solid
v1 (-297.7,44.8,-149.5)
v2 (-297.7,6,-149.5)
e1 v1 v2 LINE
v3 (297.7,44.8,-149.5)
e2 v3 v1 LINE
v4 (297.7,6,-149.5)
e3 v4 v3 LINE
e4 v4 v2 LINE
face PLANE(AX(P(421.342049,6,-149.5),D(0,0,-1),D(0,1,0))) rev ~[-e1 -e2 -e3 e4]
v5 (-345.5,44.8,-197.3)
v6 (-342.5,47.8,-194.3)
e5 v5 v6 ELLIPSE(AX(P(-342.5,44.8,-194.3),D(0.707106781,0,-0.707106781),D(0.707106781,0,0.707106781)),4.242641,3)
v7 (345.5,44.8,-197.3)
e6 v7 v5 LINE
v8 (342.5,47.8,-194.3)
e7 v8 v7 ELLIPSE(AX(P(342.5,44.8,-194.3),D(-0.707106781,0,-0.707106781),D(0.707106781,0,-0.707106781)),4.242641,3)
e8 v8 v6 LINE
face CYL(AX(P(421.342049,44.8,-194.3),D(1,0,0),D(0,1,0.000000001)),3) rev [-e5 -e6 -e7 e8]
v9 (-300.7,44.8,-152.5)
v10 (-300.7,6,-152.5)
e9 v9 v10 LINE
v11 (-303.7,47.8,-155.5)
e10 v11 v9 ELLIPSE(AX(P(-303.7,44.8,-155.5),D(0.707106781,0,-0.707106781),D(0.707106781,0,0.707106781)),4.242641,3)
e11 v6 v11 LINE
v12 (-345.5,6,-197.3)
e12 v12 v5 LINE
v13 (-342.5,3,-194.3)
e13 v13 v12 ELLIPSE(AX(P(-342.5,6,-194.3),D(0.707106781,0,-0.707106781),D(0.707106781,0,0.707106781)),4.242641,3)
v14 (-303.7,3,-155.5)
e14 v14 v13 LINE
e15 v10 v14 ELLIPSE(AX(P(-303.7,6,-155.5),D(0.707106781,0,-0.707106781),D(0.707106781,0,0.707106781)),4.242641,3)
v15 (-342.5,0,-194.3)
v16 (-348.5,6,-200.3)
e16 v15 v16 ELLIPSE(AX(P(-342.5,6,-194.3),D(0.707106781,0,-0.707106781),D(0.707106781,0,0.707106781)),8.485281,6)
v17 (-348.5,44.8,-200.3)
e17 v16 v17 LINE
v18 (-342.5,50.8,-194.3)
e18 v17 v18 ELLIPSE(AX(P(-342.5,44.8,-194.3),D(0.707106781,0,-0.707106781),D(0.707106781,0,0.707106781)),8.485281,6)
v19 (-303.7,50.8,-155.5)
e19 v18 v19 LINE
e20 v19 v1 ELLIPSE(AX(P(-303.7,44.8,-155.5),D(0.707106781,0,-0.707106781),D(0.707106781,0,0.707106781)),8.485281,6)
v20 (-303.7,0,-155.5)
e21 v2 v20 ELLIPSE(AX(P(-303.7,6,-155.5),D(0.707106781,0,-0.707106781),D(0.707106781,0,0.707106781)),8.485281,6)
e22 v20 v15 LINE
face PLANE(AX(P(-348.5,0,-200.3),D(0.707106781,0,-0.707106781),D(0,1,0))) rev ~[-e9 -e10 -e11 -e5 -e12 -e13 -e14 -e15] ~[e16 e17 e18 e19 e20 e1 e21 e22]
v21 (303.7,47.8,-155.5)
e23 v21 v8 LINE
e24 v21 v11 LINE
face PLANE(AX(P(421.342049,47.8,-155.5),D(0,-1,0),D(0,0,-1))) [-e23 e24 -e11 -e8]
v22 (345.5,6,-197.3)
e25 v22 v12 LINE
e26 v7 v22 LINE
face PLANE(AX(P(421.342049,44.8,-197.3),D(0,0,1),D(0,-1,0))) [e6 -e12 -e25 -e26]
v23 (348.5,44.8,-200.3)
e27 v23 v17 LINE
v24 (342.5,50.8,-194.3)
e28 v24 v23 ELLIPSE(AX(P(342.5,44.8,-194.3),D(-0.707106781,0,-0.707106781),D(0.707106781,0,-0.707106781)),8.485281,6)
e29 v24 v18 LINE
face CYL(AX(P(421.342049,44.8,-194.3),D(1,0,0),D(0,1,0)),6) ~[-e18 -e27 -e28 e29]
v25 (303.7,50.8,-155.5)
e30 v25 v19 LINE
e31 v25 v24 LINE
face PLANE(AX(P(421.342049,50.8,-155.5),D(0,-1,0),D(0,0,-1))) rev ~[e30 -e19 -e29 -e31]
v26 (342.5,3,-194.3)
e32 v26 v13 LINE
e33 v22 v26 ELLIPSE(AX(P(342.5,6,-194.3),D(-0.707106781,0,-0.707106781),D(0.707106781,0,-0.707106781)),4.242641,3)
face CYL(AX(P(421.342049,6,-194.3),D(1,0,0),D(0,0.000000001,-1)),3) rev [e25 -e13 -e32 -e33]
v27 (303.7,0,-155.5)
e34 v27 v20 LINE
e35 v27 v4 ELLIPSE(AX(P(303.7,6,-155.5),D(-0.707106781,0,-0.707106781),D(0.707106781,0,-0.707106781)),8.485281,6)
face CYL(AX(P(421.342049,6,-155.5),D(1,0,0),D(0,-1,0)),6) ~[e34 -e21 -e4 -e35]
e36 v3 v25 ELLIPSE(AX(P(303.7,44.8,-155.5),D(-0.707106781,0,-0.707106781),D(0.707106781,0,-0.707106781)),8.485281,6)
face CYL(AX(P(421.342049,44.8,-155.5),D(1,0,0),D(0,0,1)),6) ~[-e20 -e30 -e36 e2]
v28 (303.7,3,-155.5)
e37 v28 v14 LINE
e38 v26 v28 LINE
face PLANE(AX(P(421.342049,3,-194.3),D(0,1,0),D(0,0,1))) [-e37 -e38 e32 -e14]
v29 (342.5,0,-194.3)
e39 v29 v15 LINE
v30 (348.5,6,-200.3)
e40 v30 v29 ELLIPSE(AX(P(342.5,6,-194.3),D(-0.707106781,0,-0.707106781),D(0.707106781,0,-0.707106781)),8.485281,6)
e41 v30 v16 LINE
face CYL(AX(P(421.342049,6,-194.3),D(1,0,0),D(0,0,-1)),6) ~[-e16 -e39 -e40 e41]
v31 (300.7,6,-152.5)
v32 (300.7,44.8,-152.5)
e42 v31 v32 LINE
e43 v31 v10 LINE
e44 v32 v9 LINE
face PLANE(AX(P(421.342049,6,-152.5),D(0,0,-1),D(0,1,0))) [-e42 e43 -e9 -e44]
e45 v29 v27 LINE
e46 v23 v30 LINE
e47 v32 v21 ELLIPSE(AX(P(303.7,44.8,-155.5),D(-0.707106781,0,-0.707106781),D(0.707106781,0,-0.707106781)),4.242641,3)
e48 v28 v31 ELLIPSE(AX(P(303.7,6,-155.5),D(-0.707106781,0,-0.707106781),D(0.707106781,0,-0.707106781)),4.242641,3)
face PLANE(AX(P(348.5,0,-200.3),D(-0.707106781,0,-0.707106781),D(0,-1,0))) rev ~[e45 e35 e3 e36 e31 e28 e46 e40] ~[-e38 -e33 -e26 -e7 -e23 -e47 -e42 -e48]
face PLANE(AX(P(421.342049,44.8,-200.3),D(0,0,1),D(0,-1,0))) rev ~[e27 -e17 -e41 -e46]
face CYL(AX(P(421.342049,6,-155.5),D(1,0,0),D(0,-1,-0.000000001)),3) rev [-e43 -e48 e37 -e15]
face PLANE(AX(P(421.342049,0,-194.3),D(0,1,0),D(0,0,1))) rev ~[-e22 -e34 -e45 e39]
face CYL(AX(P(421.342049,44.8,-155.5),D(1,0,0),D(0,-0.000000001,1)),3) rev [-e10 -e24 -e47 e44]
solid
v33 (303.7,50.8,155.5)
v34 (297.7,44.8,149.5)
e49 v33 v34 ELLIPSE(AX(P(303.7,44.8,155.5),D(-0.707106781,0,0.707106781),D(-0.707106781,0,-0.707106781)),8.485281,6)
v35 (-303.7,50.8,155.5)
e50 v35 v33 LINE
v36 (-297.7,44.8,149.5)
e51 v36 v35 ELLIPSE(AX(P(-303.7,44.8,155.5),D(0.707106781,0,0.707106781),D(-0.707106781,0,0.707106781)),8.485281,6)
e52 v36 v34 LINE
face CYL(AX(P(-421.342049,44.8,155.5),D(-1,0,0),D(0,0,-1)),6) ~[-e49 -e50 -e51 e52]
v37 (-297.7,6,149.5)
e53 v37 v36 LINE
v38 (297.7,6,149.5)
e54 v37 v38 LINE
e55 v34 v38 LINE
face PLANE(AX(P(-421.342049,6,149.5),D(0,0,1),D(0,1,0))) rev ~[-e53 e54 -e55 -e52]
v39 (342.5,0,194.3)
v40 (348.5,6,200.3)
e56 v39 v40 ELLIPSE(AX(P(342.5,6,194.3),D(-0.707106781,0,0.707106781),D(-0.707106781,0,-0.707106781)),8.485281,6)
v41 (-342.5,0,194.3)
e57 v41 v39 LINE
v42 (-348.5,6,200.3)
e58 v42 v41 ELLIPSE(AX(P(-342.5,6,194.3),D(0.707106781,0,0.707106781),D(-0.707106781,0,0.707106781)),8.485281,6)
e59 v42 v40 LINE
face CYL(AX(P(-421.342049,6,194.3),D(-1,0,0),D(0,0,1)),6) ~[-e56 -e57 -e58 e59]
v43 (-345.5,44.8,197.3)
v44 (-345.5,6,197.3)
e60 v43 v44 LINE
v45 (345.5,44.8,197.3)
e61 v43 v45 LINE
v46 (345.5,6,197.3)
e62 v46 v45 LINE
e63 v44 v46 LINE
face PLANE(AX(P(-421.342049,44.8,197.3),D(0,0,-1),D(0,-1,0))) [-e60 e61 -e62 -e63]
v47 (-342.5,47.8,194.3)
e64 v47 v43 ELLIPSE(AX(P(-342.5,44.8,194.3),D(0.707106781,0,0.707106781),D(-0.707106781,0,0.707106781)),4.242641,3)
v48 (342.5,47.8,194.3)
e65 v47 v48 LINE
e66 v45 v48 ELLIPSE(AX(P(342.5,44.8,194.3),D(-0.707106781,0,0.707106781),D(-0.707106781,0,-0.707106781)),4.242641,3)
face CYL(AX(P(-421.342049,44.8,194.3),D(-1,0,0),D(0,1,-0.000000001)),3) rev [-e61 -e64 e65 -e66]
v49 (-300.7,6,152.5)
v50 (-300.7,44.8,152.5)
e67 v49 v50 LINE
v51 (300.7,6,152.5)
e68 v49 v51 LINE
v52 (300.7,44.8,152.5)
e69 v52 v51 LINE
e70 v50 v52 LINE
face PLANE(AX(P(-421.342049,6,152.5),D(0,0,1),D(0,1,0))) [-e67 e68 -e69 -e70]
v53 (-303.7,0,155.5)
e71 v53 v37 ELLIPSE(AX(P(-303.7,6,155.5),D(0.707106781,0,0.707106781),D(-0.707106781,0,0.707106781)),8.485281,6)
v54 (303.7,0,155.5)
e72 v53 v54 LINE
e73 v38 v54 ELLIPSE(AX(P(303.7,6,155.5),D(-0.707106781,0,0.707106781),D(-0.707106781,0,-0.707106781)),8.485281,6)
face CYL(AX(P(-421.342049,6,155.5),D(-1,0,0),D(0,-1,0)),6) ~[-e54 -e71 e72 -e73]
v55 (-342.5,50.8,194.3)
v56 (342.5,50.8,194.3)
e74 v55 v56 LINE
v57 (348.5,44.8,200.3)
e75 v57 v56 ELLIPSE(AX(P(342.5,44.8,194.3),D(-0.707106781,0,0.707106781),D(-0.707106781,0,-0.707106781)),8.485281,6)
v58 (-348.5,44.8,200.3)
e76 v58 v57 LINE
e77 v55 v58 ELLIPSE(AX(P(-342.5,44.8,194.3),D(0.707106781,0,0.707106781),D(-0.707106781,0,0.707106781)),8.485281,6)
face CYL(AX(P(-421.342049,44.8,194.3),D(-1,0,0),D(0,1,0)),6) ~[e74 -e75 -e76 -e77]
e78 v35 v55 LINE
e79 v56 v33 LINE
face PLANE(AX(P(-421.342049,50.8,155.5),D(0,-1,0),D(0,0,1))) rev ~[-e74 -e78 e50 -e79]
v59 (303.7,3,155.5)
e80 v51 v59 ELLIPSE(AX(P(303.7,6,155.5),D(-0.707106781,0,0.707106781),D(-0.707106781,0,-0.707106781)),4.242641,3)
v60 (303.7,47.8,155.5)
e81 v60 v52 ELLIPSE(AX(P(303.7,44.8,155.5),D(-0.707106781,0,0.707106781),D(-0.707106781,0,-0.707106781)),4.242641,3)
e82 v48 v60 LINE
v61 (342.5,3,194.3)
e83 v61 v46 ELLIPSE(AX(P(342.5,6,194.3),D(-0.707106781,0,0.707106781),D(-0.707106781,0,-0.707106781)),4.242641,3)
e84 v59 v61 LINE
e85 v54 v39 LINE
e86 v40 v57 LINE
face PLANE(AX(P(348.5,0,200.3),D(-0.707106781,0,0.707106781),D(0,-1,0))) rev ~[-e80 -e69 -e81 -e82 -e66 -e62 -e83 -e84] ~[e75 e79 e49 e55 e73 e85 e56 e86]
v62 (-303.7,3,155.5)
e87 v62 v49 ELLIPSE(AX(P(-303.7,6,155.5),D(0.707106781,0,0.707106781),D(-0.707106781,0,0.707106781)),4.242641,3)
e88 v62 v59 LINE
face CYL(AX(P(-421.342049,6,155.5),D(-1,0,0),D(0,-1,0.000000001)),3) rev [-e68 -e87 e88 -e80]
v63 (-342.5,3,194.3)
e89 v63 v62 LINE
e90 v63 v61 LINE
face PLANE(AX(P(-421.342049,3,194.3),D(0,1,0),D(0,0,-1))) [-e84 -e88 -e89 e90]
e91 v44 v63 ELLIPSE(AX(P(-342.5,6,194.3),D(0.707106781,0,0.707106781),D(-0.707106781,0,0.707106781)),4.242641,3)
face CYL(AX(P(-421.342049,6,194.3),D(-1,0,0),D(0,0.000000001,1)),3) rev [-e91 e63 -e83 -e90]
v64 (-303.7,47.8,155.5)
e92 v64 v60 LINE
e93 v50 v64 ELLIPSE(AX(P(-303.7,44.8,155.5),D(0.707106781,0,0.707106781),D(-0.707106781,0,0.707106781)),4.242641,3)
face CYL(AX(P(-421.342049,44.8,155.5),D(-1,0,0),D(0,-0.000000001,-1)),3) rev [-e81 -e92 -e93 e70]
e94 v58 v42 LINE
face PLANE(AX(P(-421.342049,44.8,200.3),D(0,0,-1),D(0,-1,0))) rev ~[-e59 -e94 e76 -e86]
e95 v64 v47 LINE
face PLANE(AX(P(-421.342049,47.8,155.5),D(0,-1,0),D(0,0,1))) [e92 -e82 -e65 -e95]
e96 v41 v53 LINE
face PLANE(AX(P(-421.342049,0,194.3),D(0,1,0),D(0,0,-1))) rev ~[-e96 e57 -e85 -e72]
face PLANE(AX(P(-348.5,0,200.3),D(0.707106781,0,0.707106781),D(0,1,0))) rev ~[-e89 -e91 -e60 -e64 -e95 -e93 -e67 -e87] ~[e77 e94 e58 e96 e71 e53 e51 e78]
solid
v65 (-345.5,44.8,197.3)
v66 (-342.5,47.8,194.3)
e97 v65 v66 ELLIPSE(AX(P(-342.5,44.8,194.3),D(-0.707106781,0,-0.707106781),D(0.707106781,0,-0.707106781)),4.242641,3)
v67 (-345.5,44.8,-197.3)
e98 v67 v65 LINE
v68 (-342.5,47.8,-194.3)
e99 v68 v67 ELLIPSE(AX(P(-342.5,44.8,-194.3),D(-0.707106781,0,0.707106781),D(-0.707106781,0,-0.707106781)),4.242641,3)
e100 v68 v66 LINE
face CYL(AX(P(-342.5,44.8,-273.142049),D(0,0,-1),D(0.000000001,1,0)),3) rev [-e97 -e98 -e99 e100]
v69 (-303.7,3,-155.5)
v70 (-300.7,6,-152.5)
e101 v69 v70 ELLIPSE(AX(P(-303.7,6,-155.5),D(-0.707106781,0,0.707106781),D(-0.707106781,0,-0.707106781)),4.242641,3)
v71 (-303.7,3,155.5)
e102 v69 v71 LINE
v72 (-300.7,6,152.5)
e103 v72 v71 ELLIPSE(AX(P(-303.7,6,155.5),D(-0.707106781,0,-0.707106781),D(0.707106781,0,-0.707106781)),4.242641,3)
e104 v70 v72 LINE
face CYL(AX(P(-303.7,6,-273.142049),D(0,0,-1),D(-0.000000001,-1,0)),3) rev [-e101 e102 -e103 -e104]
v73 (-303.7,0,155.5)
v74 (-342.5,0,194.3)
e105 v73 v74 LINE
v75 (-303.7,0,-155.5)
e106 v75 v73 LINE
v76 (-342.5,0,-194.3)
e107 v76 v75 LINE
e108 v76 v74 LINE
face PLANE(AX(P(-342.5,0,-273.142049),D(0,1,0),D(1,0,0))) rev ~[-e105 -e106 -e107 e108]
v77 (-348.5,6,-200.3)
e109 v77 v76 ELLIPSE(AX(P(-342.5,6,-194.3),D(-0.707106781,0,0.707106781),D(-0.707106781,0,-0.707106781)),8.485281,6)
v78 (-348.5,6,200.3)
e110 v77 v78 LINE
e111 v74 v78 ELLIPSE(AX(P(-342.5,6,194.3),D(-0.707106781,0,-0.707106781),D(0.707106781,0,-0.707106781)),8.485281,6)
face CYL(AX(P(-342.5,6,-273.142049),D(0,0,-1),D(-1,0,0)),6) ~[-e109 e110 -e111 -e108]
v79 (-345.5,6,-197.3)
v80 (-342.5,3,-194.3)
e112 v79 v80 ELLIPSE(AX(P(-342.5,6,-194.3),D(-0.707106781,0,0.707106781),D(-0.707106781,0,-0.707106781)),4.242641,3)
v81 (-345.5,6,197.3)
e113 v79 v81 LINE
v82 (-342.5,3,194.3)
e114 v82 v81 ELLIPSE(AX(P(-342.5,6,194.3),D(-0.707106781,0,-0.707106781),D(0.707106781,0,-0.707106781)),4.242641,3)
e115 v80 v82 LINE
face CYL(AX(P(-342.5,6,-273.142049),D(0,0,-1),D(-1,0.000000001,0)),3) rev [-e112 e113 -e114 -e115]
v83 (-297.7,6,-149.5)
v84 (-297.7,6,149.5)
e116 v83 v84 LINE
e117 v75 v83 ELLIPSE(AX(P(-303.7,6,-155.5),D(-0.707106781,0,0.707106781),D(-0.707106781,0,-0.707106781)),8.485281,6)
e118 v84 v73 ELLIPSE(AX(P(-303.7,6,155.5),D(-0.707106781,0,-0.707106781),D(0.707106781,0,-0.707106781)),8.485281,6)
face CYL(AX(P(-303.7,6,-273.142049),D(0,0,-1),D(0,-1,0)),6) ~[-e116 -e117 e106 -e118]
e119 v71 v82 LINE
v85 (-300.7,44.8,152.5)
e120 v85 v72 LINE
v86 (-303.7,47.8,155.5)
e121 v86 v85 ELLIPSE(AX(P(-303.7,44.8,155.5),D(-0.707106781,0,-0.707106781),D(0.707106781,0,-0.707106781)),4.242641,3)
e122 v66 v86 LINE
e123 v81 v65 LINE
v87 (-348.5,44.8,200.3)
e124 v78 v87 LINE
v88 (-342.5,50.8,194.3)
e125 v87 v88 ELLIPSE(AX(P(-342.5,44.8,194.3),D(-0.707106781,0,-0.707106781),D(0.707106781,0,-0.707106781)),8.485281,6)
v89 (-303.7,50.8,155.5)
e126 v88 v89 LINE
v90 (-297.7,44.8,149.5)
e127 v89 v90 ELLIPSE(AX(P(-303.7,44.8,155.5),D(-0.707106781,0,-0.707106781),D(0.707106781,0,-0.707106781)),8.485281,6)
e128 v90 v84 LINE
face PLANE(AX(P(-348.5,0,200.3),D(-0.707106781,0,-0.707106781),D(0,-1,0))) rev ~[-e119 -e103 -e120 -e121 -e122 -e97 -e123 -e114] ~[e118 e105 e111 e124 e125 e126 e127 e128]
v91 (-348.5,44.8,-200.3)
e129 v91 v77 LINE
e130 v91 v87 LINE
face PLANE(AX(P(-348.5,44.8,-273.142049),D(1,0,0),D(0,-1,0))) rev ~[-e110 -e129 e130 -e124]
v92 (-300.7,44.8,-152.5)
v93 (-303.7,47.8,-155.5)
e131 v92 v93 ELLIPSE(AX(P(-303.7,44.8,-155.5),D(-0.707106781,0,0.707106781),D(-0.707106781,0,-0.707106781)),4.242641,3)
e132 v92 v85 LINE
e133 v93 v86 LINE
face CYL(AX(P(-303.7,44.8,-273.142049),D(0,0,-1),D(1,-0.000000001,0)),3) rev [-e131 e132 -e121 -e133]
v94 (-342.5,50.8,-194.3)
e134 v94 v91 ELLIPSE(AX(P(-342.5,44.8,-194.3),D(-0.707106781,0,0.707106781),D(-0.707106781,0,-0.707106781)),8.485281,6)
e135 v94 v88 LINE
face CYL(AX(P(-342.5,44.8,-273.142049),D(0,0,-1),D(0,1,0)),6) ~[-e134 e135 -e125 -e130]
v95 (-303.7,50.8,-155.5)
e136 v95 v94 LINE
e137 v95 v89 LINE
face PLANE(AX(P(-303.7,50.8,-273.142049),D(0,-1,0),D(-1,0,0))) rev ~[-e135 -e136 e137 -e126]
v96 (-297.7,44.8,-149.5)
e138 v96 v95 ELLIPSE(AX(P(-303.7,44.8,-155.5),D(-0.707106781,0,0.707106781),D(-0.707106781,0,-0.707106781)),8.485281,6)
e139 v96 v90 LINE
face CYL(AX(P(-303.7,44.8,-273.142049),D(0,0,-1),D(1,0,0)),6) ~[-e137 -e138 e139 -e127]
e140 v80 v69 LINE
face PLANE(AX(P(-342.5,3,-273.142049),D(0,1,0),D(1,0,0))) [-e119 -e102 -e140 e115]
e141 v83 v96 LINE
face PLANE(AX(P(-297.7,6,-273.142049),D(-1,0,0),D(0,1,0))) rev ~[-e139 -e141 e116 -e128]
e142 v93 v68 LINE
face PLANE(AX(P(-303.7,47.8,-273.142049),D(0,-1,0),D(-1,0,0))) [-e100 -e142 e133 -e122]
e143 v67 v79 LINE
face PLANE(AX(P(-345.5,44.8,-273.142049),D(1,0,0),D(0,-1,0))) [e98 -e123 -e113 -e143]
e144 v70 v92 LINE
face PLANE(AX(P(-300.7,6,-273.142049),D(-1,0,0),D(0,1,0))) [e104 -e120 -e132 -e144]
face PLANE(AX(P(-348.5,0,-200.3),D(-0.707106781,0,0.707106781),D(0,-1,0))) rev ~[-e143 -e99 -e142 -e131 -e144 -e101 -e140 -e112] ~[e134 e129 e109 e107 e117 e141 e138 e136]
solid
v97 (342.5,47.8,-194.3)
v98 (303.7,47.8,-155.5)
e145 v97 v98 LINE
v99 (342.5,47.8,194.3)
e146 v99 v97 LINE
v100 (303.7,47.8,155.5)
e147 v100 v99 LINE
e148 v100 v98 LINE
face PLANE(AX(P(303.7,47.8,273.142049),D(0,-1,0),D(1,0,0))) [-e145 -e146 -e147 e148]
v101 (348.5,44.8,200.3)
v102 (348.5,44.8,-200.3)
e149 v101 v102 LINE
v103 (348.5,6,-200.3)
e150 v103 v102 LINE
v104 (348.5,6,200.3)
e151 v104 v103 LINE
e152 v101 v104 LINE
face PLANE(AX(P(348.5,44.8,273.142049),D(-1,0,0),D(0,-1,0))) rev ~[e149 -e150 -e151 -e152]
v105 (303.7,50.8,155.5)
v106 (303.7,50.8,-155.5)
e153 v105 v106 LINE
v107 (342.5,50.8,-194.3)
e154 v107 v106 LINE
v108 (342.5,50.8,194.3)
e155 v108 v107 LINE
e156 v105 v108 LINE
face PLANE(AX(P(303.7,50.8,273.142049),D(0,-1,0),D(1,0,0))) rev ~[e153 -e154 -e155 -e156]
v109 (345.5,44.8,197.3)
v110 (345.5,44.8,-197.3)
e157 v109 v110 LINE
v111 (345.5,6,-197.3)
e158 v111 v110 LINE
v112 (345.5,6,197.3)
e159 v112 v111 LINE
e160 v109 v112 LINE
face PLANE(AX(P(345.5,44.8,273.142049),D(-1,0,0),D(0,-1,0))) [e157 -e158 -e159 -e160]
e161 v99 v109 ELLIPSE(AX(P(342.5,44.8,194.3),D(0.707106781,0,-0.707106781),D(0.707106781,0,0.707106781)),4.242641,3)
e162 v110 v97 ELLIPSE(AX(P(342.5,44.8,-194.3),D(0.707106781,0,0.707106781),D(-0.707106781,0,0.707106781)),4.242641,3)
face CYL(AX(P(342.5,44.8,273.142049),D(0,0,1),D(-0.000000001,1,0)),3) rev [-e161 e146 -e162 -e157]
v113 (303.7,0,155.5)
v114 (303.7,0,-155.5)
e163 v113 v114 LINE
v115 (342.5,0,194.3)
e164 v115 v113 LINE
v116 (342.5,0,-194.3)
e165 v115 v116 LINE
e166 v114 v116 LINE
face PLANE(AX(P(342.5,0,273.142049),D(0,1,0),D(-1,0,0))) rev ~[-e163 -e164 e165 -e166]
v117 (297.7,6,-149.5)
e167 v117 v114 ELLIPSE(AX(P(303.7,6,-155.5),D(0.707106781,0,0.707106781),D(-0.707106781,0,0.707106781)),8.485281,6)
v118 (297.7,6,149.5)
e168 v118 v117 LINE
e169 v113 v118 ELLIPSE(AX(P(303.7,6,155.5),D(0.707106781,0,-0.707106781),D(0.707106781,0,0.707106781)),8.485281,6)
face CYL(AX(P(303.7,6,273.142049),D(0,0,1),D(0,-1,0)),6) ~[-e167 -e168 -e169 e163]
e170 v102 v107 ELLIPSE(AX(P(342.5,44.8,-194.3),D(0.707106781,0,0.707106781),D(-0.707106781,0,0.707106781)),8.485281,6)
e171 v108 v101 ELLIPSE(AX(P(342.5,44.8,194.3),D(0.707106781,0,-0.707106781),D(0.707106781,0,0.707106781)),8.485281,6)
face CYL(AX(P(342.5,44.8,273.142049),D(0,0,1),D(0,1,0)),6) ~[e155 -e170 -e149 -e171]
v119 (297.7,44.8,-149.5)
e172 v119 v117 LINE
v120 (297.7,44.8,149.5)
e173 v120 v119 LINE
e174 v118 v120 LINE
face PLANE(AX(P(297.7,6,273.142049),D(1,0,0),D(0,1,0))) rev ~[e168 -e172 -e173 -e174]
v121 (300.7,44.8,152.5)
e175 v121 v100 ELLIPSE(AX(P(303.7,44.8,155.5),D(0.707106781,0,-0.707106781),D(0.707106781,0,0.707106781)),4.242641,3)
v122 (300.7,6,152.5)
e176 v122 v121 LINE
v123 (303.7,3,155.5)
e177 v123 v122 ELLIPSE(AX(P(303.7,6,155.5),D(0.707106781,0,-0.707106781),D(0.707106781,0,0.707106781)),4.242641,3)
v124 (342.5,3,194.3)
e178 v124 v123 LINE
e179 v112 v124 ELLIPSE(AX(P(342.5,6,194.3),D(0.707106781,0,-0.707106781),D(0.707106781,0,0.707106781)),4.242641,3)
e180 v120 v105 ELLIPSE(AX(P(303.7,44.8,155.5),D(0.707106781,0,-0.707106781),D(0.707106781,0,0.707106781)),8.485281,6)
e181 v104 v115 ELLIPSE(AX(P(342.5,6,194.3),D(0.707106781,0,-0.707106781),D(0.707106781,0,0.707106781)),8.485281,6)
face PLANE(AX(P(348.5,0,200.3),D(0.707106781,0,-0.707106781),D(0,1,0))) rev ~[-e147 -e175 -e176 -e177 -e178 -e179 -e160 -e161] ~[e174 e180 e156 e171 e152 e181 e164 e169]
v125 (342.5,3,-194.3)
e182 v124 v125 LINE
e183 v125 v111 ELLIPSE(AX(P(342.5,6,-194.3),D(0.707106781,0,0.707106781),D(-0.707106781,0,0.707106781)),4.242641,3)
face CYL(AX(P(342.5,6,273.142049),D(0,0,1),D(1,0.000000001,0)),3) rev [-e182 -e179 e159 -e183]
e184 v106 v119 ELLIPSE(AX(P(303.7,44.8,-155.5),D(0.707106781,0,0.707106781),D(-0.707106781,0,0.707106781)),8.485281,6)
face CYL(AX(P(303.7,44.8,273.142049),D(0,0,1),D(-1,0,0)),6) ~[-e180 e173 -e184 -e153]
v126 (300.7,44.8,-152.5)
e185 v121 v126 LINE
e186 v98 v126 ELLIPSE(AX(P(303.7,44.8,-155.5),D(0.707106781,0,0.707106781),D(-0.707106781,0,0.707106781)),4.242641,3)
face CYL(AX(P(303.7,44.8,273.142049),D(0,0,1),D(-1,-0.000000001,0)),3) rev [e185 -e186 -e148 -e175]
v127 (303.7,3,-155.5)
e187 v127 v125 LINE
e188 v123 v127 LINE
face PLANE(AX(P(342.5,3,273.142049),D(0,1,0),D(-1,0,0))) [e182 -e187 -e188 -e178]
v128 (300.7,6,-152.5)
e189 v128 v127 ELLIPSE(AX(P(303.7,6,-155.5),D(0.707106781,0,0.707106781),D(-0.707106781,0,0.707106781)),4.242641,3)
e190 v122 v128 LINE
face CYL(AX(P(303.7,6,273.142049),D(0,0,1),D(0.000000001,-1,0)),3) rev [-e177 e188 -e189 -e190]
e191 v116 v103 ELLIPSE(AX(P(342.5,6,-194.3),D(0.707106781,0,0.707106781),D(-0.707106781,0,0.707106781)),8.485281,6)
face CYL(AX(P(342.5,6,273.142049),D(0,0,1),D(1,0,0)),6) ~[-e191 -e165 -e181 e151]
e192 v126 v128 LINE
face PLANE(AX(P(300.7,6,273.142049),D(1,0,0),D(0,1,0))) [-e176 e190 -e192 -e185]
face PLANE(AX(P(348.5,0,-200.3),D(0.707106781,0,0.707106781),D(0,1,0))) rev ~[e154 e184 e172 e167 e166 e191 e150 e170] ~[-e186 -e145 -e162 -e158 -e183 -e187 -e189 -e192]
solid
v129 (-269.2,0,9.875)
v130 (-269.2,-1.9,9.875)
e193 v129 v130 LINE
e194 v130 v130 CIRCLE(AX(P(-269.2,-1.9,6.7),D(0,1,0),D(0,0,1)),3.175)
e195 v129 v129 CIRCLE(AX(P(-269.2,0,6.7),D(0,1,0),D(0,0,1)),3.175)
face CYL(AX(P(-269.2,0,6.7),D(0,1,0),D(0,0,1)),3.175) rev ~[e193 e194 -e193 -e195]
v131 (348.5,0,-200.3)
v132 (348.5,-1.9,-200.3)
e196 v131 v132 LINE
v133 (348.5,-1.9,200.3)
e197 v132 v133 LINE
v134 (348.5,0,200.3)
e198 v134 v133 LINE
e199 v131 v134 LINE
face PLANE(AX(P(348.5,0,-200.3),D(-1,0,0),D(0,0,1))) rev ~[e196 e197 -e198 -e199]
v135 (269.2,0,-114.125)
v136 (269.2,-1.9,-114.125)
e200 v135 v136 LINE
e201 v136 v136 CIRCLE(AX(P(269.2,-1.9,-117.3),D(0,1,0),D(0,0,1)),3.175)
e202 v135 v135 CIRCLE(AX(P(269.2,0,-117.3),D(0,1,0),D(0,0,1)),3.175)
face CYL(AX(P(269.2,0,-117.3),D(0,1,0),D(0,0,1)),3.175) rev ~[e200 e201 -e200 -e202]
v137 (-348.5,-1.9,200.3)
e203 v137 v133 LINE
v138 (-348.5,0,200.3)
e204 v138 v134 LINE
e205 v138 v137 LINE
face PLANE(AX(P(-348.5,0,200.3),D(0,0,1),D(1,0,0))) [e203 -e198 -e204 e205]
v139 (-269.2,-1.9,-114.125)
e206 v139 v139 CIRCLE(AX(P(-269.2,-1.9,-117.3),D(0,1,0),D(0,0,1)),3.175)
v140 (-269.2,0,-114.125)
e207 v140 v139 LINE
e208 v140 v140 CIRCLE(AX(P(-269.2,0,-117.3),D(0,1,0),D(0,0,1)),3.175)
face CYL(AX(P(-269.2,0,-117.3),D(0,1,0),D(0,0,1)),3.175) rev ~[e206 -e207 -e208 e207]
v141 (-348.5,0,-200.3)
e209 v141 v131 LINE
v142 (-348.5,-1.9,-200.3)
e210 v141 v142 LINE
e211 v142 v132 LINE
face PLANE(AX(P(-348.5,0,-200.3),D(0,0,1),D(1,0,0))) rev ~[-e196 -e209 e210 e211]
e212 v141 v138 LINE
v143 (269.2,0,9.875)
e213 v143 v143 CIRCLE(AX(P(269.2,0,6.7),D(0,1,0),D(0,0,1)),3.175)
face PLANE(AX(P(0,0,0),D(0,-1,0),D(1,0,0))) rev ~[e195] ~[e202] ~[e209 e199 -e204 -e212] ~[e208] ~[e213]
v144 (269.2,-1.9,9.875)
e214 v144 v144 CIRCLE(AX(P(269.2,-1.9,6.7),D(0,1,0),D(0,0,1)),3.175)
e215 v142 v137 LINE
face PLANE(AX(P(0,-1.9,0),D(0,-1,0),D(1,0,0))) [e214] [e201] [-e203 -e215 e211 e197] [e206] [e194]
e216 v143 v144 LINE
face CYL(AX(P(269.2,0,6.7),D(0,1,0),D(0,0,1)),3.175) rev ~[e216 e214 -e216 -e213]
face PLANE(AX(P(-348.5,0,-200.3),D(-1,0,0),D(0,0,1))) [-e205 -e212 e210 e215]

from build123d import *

# Parameters (mm, degrees)
TUBO_CUADRADO_2_X_2_X_0_25_1_DEPTH      = 473.442048969
TUBO_CUADRADO_2_X_2_X_0_25_1_DEPTH_BACK = 72.842048969
TUBO_CUADRADO_2_X_2_X_0_25_1_2_DEPTH    = 842.684097937
TUBO_CUADRADO_2_X_2_X_0_25_1_3_DEPTH    = 546.284097937
TUBO_CUADRADO_2_X_2_X_0_25_1_4_DEPTH    = 842.684097937
CROQUIS3_W                              = 697
CROQUIS3_H                              = 400.6
SALIENTE_EXTRUIR1_DEPTH                 = 1.9
CROQUIS4_R                              = 3.175
CORTAR_EXTRUIR1_DEPTH                   = 10


with BuildPart() as part:
    # Sketch1 → Tubo cuadrado 2 X 2 X 0.25(1) (new, two sides: drawn at the far end of the back side and taken through both)
    with BuildSketch(Plane(origin=(-323.1, 25.4, -200.3), x_dir=(1, 0, 0), z_dir=(0, 0, 1)).offset(-TUBO_CUADRADO_2_X_2_X_0_25_1_DEPTH_BACK)):
        with BuildLine():
            Line((-19.4, -25.4), (19.4, -25.4))
            ThreePointArc((19.4, -25.4), (23.642640687, -23.642640687), (25.4, -19.4))
            Line((25.4, -19.4), (25.4, 19.4))
            ThreePointArc((25.4, 19.4), (23.642640687, 23.642640687), (19.4, 25.4))
            Line((19.4, 25.4), (-19.4, 25.4))
            ThreePointArc((-19.4, 25.4), (-23.642640687, 23.642640687), (-25.4, 19.4))
            Line((-25.4, 19.4), (-25.4, -19.4))
            ThreePointArc((-25.4, -19.4), (-23.642640687, -23.642640687), (-19.4, -25.4))
        make_face()
        with BuildLine():
            Line((-19.4, -22.4), (19.4, -22.4))
            ThreePointArc((19.4, -22.4), (21.521320344, -21.521320344), (22.4, -19.4))
            Line((22.4, -19.4), (22.4, 19.4))
            ThreePointArc((22.4, 19.4), (21.521320344, 21.521320344), (19.4, 22.4))
            Line((19.4, 22.4), (-19.4, 22.4))
            ThreePointArc((-19.4, 22.4), (-21.521320344, 21.521320344), (-22.4, 19.4))
            Line((-22.4, 19.4), (-22.4, -19.4))
            ThreePointArc((-22.4, -19.4), (-21.521320344, -21.521320344), (-19.4, -22.4))
        make_face(mode=Mode.SUBTRACT)
    extrude(amount=TUBO_CUADRADO_2_X_2_X_0_25_1_DEPTH + TUBO_CUADRADO_2_X_2_X_0_25_1_DEPTH_BACK)

    # Tubo cuadrado 2 X 2 X 0.25(1) mitre 1
    split(bisect_by=Plane(origin=(-348.5, 0, -200.3), x_dir=(0, -1, 0), z_dir=(-0.707106781, 0, 0.707106781)), keep=Keep.TOP)

    # Tubo cuadrado 2 X 2 X 0.25(1) mitre 2
    split(bisect_by=Plane(origin=(-348.5, 0, 200.3), x_dir=(0, -1, 0), z_dir=(-0.707106781, 0, -0.707106781)), keep=Keep.TOP)


with BuildPart() as body_2:
    # Sketch1 on segment 2 (carried to segment 2) → Tubo cuadrado 2 X 2 X 0.25_1 2 (new body)
    with BuildSketch(Plane(origin=(-421.342048969, 25.4, 174.9), x_dir=(0, 0, -1), z_dir=(1, 0, 0))):
        with BuildLine():
            Line((-19.4, -25.4), (19.4, -25.4))
            ThreePointArc((19.4, -25.4), (23.642640687, -23.642640687), (25.4, -19.4))
            Line((25.4, -19.4), (25.4, 19.4))
            ThreePointArc((25.4, 19.4), (23.642640687, 23.642640687), (19.4, 25.4))
            Line((19.4, 25.4), (-19.4, 25.4))
            ThreePointArc((-19.4, 25.4), (-23.642640687, 23.642640687), (-25.4, 19.4))
            Line((-25.4, 19.4), (-25.4, -19.4))
            ThreePointArc((-25.4, -19.4), (-23.642640687, -23.642640687), (-19.4, -25.4))
        make_face()
        with BuildLine():
            Line((-19.4, -22.4), (19.4, -22.4))
            ThreePointArc((19.4, -22.4), (21.521320344, -21.521320344), (22.4, -19.4))
            Line((22.4, -19.4), (22.4, 19.4))
            ThreePointArc((22.4, 19.4), (21.521320344, 21.521320344), (19.4, 22.4))
            Line((19.4, 22.4), (-19.4, 22.4))
            ThreePointArc((-19.4, 22.4), (-21.521320344, 21.521320344), (-22.4, 19.4))
            Line((-22.4, 19.4), (-22.4, -19.4))
            ThreePointArc((-22.4, -19.4), (-21.521320344, -21.521320344), (-19.4, -22.4))
        make_face(mode=Mode.SUBTRACT)
    extrude(amount=TUBO_CUADRADO_2_X_2_X_0_25_1_2_DEPTH)

    # Tubo cuadrado 2 X 2 X 0.25_1 2 mitre 1
    split(bisect_by=Plane(origin=(-348.5, 0, 200.3), x_dir=(0, 1, 0), z_dir=(0.707106781, 0, 0.707106781)), keep=Keep.TOP)

    # Tubo cuadrado 2 X 2 X 0.25_1 2 mitre 2
    split(bisect_by=Plane(origin=(348.5, 0, 200.3), x_dir=(0, -1, 0), z_dir=(-0.707106781, 0, 0.707106781)), keep=Keep.TOP)


with BuildPart() as body_3:
    # Sketch1 on segment 3 (carried to segment 3) → Tubo cuadrado 2 X 2 X 0.25_1 3 (new body)
    with BuildSketch(Plane(origin=(323.1, 25.4, 273.142048969), x_dir=(-1, 0, 0), z_dir=(0, 0, -1))):
        with BuildLine():
            Line((-19.4, -25.4), (19.4, -25.4))
            ThreePointArc((19.4, -25.4), (23.642640687, -23.642640687), (25.4, -19.4))
            Line((25.4, -19.4), (25.4, 19.4))
            ThreePointArc((25.4, 19.4), (23.642640687, 23.642640687), (19.4, 25.4))
            Line((19.4, 25.4), (-19.4, 25.4))
            ThreePointArc((-19.4, 25.4), (-23.642640687, 23.642640687), (-25.4, 19.4))
            Line((-25.4, 19.4), (-25.4, -19.4))
            ThreePointArc((-25.4, -19.4), (-23.642640687, -23.642640687), (-19.4, -25.4))
        make_face()
        with BuildLine():
            Line((-19.4, -22.4), (19.4, -22.4))
            ThreePointArc((19.4, -22.4), (21.521320344, -21.521320344), (22.4, -19.4))
            Line((22.4, -19.4), (22.4, 19.4))
            ThreePointArc((22.4, 19.4), (21.521320344, 21.521320344), (19.4, 22.4))
            Line((19.4, 22.4), (-19.4, 22.4))
            ThreePointArc((-19.4, 22.4), (-21.521320344, 21.521320344), (-22.4, 19.4))
            Line((-22.4, 19.4), (-22.4, -19.4))
            ThreePointArc((-22.4, -19.4), (-21.521320344, -21.521320344), (-19.4, -22.4))
        make_face(mode=Mode.SUBTRACT)
    extrude(amount=TUBO_CUADRADO_2_X_2_X_0_25_1_3_DEPTH)

    # Tubo cuadrado 2 X 2 X 0.25_1 3 mitre 1
    split(bisect_by=Plane(origin=(348.5, 0, -200.3), x_dir=(0, 1, 0), z_dir=(0.707106781, 0, 0.707106781)), keep=Keep.TOP)

    # Tubo cuadrado 2 X 2 X 0.25_1 3 mitre 2
    split(bisect_by=Plane(origin=(348.5, 0, 200.3), x_dir=(0, 1, 0), z_dir=(0.707106781, 0, -0.707106781)), keep=Keep.TOP)


with BuildPart() as body_4:
    # Sketch1 on segment 4 (carried to segment 4) → Tubo cuadrado 2 X 2 X 0.25_1 4 (new body)
    with BuildSketch(Plane(origin=(421.342048969, 25.4, -174.9), x_dir=(0, 0, 1), z_dir=(-1, 0, 0))):
        with BuildLine():
            Line((-19.4, -25.4), (19.4, -25.4))
            ThreePointArc((19.4, -25.4), (23.642640687, -23.642640687), (25.4, -19.4))
            Line((25.4, -19.4), (25.4, 19.4))
            ThreePointArc((25.4, 19.4), (23.642640687, 23.642640687), (19.4, 25.4))
            Line((19.4, 25.4), (-19.4, 25.4))
            ThreePointArc((-19.4, 25.4), (-23.642640687, 23.642640687), (-25.4, 19.4))
            Line((-25.4, 19.4), (-25.4, -19.4))
            ThreePointArc((-25.4, -19.4), (-23.642640687, -23.642640687), (-19.4, -25.4))
        make_face()
        with BuildLine():
            Line((-19.4, -22.4), (19.4, -22.4))
            ThreePointArc((19.4, -22.4), (21.521320344, -21.521320344), (22.4, -19.4))
            Line((22.4, -19.4), (22.4, 19.4))
            ThreePointArc((22.4, 19.4), (21.521320344, 21.521320344), (19.4, 22.4))
            Line((19.4, 22.4), (-19.4, 22.4))
            ThreePointArc((-19.4, 22.4), (-21.521320344, 21.521320344), (-22.4, 19.4))
            Line((-22.4, 19.4), (-22.4, -19.4))
            ThreePointArc((-22.4, -19.4), (-21.521320344, -21.521320344), (-19.4, -22.4))
        make_face(mode=Mode.SUBTRACT)
    extrude(amount=TUBO_CUADRADO_2_X_2_X_0_25_1_4_DEPTH)

    # Tubo cuadrado 2 X 2 X 0.25_1 4 mitre 1
    split(bisect_by=Plane(origin=(-348.5, 0, -200.3), x_dir=(0, 1, 0), z_dir=(0.707106781, 0, -0.707106781)), keep=Keep.TOP)

    # Tubo cuadrado 2 X 2 X 0.25_1 4 mitre 2
    split(bisect_by=Plane(origin=(348.5, 0, -200.3), x_dir=(0, -1, 0), z_dir=(-0.707106781, 0, -0.707106781)), keep=Keep.TOP)


with BuildPart() as body_5:
    # Croquis3 → Saliente-Extruir1 (new body)
    with BuildSketch(Plane.XZ):
        Rectangle(CROQUIS3_W, CROQUIS3_H)
    extrude(amount=SALIENTE_EXTRUIR1_DEPTH)

    # Croquis4 → Cortar-Extruir1 (cut)
    with BuildSketch(Plane(origin=(0, 0, 0), x_dir=(1, 0, 0), z_dir=(0, 1, 0))):
        with Locations(Location((-269.2, 117.3, 0), (0, 0, 270))):
            Circle(CROQUIS4_R)
        with Locations(Location((-269.2, -6.7, 0), (0, 0, 270))):
            Circle(CROQUIS4_R)
        with Locations(Location((269.2, 117.3, 0), (0, 0, 270))):
            Circle(CROQUIS4_R)
        with Locations(Location((269.2, -6.7, 0), (0, 0, 270))):
            Circle(CROQUIS4_R)
    extrude(amount=-CORTAR_EXTRUIR1_DEPTH, mode=Mode.SUBTRACT)


solid = Compound([part.part, body_2.part, body_3.part, body_4.part, body_5.part])
